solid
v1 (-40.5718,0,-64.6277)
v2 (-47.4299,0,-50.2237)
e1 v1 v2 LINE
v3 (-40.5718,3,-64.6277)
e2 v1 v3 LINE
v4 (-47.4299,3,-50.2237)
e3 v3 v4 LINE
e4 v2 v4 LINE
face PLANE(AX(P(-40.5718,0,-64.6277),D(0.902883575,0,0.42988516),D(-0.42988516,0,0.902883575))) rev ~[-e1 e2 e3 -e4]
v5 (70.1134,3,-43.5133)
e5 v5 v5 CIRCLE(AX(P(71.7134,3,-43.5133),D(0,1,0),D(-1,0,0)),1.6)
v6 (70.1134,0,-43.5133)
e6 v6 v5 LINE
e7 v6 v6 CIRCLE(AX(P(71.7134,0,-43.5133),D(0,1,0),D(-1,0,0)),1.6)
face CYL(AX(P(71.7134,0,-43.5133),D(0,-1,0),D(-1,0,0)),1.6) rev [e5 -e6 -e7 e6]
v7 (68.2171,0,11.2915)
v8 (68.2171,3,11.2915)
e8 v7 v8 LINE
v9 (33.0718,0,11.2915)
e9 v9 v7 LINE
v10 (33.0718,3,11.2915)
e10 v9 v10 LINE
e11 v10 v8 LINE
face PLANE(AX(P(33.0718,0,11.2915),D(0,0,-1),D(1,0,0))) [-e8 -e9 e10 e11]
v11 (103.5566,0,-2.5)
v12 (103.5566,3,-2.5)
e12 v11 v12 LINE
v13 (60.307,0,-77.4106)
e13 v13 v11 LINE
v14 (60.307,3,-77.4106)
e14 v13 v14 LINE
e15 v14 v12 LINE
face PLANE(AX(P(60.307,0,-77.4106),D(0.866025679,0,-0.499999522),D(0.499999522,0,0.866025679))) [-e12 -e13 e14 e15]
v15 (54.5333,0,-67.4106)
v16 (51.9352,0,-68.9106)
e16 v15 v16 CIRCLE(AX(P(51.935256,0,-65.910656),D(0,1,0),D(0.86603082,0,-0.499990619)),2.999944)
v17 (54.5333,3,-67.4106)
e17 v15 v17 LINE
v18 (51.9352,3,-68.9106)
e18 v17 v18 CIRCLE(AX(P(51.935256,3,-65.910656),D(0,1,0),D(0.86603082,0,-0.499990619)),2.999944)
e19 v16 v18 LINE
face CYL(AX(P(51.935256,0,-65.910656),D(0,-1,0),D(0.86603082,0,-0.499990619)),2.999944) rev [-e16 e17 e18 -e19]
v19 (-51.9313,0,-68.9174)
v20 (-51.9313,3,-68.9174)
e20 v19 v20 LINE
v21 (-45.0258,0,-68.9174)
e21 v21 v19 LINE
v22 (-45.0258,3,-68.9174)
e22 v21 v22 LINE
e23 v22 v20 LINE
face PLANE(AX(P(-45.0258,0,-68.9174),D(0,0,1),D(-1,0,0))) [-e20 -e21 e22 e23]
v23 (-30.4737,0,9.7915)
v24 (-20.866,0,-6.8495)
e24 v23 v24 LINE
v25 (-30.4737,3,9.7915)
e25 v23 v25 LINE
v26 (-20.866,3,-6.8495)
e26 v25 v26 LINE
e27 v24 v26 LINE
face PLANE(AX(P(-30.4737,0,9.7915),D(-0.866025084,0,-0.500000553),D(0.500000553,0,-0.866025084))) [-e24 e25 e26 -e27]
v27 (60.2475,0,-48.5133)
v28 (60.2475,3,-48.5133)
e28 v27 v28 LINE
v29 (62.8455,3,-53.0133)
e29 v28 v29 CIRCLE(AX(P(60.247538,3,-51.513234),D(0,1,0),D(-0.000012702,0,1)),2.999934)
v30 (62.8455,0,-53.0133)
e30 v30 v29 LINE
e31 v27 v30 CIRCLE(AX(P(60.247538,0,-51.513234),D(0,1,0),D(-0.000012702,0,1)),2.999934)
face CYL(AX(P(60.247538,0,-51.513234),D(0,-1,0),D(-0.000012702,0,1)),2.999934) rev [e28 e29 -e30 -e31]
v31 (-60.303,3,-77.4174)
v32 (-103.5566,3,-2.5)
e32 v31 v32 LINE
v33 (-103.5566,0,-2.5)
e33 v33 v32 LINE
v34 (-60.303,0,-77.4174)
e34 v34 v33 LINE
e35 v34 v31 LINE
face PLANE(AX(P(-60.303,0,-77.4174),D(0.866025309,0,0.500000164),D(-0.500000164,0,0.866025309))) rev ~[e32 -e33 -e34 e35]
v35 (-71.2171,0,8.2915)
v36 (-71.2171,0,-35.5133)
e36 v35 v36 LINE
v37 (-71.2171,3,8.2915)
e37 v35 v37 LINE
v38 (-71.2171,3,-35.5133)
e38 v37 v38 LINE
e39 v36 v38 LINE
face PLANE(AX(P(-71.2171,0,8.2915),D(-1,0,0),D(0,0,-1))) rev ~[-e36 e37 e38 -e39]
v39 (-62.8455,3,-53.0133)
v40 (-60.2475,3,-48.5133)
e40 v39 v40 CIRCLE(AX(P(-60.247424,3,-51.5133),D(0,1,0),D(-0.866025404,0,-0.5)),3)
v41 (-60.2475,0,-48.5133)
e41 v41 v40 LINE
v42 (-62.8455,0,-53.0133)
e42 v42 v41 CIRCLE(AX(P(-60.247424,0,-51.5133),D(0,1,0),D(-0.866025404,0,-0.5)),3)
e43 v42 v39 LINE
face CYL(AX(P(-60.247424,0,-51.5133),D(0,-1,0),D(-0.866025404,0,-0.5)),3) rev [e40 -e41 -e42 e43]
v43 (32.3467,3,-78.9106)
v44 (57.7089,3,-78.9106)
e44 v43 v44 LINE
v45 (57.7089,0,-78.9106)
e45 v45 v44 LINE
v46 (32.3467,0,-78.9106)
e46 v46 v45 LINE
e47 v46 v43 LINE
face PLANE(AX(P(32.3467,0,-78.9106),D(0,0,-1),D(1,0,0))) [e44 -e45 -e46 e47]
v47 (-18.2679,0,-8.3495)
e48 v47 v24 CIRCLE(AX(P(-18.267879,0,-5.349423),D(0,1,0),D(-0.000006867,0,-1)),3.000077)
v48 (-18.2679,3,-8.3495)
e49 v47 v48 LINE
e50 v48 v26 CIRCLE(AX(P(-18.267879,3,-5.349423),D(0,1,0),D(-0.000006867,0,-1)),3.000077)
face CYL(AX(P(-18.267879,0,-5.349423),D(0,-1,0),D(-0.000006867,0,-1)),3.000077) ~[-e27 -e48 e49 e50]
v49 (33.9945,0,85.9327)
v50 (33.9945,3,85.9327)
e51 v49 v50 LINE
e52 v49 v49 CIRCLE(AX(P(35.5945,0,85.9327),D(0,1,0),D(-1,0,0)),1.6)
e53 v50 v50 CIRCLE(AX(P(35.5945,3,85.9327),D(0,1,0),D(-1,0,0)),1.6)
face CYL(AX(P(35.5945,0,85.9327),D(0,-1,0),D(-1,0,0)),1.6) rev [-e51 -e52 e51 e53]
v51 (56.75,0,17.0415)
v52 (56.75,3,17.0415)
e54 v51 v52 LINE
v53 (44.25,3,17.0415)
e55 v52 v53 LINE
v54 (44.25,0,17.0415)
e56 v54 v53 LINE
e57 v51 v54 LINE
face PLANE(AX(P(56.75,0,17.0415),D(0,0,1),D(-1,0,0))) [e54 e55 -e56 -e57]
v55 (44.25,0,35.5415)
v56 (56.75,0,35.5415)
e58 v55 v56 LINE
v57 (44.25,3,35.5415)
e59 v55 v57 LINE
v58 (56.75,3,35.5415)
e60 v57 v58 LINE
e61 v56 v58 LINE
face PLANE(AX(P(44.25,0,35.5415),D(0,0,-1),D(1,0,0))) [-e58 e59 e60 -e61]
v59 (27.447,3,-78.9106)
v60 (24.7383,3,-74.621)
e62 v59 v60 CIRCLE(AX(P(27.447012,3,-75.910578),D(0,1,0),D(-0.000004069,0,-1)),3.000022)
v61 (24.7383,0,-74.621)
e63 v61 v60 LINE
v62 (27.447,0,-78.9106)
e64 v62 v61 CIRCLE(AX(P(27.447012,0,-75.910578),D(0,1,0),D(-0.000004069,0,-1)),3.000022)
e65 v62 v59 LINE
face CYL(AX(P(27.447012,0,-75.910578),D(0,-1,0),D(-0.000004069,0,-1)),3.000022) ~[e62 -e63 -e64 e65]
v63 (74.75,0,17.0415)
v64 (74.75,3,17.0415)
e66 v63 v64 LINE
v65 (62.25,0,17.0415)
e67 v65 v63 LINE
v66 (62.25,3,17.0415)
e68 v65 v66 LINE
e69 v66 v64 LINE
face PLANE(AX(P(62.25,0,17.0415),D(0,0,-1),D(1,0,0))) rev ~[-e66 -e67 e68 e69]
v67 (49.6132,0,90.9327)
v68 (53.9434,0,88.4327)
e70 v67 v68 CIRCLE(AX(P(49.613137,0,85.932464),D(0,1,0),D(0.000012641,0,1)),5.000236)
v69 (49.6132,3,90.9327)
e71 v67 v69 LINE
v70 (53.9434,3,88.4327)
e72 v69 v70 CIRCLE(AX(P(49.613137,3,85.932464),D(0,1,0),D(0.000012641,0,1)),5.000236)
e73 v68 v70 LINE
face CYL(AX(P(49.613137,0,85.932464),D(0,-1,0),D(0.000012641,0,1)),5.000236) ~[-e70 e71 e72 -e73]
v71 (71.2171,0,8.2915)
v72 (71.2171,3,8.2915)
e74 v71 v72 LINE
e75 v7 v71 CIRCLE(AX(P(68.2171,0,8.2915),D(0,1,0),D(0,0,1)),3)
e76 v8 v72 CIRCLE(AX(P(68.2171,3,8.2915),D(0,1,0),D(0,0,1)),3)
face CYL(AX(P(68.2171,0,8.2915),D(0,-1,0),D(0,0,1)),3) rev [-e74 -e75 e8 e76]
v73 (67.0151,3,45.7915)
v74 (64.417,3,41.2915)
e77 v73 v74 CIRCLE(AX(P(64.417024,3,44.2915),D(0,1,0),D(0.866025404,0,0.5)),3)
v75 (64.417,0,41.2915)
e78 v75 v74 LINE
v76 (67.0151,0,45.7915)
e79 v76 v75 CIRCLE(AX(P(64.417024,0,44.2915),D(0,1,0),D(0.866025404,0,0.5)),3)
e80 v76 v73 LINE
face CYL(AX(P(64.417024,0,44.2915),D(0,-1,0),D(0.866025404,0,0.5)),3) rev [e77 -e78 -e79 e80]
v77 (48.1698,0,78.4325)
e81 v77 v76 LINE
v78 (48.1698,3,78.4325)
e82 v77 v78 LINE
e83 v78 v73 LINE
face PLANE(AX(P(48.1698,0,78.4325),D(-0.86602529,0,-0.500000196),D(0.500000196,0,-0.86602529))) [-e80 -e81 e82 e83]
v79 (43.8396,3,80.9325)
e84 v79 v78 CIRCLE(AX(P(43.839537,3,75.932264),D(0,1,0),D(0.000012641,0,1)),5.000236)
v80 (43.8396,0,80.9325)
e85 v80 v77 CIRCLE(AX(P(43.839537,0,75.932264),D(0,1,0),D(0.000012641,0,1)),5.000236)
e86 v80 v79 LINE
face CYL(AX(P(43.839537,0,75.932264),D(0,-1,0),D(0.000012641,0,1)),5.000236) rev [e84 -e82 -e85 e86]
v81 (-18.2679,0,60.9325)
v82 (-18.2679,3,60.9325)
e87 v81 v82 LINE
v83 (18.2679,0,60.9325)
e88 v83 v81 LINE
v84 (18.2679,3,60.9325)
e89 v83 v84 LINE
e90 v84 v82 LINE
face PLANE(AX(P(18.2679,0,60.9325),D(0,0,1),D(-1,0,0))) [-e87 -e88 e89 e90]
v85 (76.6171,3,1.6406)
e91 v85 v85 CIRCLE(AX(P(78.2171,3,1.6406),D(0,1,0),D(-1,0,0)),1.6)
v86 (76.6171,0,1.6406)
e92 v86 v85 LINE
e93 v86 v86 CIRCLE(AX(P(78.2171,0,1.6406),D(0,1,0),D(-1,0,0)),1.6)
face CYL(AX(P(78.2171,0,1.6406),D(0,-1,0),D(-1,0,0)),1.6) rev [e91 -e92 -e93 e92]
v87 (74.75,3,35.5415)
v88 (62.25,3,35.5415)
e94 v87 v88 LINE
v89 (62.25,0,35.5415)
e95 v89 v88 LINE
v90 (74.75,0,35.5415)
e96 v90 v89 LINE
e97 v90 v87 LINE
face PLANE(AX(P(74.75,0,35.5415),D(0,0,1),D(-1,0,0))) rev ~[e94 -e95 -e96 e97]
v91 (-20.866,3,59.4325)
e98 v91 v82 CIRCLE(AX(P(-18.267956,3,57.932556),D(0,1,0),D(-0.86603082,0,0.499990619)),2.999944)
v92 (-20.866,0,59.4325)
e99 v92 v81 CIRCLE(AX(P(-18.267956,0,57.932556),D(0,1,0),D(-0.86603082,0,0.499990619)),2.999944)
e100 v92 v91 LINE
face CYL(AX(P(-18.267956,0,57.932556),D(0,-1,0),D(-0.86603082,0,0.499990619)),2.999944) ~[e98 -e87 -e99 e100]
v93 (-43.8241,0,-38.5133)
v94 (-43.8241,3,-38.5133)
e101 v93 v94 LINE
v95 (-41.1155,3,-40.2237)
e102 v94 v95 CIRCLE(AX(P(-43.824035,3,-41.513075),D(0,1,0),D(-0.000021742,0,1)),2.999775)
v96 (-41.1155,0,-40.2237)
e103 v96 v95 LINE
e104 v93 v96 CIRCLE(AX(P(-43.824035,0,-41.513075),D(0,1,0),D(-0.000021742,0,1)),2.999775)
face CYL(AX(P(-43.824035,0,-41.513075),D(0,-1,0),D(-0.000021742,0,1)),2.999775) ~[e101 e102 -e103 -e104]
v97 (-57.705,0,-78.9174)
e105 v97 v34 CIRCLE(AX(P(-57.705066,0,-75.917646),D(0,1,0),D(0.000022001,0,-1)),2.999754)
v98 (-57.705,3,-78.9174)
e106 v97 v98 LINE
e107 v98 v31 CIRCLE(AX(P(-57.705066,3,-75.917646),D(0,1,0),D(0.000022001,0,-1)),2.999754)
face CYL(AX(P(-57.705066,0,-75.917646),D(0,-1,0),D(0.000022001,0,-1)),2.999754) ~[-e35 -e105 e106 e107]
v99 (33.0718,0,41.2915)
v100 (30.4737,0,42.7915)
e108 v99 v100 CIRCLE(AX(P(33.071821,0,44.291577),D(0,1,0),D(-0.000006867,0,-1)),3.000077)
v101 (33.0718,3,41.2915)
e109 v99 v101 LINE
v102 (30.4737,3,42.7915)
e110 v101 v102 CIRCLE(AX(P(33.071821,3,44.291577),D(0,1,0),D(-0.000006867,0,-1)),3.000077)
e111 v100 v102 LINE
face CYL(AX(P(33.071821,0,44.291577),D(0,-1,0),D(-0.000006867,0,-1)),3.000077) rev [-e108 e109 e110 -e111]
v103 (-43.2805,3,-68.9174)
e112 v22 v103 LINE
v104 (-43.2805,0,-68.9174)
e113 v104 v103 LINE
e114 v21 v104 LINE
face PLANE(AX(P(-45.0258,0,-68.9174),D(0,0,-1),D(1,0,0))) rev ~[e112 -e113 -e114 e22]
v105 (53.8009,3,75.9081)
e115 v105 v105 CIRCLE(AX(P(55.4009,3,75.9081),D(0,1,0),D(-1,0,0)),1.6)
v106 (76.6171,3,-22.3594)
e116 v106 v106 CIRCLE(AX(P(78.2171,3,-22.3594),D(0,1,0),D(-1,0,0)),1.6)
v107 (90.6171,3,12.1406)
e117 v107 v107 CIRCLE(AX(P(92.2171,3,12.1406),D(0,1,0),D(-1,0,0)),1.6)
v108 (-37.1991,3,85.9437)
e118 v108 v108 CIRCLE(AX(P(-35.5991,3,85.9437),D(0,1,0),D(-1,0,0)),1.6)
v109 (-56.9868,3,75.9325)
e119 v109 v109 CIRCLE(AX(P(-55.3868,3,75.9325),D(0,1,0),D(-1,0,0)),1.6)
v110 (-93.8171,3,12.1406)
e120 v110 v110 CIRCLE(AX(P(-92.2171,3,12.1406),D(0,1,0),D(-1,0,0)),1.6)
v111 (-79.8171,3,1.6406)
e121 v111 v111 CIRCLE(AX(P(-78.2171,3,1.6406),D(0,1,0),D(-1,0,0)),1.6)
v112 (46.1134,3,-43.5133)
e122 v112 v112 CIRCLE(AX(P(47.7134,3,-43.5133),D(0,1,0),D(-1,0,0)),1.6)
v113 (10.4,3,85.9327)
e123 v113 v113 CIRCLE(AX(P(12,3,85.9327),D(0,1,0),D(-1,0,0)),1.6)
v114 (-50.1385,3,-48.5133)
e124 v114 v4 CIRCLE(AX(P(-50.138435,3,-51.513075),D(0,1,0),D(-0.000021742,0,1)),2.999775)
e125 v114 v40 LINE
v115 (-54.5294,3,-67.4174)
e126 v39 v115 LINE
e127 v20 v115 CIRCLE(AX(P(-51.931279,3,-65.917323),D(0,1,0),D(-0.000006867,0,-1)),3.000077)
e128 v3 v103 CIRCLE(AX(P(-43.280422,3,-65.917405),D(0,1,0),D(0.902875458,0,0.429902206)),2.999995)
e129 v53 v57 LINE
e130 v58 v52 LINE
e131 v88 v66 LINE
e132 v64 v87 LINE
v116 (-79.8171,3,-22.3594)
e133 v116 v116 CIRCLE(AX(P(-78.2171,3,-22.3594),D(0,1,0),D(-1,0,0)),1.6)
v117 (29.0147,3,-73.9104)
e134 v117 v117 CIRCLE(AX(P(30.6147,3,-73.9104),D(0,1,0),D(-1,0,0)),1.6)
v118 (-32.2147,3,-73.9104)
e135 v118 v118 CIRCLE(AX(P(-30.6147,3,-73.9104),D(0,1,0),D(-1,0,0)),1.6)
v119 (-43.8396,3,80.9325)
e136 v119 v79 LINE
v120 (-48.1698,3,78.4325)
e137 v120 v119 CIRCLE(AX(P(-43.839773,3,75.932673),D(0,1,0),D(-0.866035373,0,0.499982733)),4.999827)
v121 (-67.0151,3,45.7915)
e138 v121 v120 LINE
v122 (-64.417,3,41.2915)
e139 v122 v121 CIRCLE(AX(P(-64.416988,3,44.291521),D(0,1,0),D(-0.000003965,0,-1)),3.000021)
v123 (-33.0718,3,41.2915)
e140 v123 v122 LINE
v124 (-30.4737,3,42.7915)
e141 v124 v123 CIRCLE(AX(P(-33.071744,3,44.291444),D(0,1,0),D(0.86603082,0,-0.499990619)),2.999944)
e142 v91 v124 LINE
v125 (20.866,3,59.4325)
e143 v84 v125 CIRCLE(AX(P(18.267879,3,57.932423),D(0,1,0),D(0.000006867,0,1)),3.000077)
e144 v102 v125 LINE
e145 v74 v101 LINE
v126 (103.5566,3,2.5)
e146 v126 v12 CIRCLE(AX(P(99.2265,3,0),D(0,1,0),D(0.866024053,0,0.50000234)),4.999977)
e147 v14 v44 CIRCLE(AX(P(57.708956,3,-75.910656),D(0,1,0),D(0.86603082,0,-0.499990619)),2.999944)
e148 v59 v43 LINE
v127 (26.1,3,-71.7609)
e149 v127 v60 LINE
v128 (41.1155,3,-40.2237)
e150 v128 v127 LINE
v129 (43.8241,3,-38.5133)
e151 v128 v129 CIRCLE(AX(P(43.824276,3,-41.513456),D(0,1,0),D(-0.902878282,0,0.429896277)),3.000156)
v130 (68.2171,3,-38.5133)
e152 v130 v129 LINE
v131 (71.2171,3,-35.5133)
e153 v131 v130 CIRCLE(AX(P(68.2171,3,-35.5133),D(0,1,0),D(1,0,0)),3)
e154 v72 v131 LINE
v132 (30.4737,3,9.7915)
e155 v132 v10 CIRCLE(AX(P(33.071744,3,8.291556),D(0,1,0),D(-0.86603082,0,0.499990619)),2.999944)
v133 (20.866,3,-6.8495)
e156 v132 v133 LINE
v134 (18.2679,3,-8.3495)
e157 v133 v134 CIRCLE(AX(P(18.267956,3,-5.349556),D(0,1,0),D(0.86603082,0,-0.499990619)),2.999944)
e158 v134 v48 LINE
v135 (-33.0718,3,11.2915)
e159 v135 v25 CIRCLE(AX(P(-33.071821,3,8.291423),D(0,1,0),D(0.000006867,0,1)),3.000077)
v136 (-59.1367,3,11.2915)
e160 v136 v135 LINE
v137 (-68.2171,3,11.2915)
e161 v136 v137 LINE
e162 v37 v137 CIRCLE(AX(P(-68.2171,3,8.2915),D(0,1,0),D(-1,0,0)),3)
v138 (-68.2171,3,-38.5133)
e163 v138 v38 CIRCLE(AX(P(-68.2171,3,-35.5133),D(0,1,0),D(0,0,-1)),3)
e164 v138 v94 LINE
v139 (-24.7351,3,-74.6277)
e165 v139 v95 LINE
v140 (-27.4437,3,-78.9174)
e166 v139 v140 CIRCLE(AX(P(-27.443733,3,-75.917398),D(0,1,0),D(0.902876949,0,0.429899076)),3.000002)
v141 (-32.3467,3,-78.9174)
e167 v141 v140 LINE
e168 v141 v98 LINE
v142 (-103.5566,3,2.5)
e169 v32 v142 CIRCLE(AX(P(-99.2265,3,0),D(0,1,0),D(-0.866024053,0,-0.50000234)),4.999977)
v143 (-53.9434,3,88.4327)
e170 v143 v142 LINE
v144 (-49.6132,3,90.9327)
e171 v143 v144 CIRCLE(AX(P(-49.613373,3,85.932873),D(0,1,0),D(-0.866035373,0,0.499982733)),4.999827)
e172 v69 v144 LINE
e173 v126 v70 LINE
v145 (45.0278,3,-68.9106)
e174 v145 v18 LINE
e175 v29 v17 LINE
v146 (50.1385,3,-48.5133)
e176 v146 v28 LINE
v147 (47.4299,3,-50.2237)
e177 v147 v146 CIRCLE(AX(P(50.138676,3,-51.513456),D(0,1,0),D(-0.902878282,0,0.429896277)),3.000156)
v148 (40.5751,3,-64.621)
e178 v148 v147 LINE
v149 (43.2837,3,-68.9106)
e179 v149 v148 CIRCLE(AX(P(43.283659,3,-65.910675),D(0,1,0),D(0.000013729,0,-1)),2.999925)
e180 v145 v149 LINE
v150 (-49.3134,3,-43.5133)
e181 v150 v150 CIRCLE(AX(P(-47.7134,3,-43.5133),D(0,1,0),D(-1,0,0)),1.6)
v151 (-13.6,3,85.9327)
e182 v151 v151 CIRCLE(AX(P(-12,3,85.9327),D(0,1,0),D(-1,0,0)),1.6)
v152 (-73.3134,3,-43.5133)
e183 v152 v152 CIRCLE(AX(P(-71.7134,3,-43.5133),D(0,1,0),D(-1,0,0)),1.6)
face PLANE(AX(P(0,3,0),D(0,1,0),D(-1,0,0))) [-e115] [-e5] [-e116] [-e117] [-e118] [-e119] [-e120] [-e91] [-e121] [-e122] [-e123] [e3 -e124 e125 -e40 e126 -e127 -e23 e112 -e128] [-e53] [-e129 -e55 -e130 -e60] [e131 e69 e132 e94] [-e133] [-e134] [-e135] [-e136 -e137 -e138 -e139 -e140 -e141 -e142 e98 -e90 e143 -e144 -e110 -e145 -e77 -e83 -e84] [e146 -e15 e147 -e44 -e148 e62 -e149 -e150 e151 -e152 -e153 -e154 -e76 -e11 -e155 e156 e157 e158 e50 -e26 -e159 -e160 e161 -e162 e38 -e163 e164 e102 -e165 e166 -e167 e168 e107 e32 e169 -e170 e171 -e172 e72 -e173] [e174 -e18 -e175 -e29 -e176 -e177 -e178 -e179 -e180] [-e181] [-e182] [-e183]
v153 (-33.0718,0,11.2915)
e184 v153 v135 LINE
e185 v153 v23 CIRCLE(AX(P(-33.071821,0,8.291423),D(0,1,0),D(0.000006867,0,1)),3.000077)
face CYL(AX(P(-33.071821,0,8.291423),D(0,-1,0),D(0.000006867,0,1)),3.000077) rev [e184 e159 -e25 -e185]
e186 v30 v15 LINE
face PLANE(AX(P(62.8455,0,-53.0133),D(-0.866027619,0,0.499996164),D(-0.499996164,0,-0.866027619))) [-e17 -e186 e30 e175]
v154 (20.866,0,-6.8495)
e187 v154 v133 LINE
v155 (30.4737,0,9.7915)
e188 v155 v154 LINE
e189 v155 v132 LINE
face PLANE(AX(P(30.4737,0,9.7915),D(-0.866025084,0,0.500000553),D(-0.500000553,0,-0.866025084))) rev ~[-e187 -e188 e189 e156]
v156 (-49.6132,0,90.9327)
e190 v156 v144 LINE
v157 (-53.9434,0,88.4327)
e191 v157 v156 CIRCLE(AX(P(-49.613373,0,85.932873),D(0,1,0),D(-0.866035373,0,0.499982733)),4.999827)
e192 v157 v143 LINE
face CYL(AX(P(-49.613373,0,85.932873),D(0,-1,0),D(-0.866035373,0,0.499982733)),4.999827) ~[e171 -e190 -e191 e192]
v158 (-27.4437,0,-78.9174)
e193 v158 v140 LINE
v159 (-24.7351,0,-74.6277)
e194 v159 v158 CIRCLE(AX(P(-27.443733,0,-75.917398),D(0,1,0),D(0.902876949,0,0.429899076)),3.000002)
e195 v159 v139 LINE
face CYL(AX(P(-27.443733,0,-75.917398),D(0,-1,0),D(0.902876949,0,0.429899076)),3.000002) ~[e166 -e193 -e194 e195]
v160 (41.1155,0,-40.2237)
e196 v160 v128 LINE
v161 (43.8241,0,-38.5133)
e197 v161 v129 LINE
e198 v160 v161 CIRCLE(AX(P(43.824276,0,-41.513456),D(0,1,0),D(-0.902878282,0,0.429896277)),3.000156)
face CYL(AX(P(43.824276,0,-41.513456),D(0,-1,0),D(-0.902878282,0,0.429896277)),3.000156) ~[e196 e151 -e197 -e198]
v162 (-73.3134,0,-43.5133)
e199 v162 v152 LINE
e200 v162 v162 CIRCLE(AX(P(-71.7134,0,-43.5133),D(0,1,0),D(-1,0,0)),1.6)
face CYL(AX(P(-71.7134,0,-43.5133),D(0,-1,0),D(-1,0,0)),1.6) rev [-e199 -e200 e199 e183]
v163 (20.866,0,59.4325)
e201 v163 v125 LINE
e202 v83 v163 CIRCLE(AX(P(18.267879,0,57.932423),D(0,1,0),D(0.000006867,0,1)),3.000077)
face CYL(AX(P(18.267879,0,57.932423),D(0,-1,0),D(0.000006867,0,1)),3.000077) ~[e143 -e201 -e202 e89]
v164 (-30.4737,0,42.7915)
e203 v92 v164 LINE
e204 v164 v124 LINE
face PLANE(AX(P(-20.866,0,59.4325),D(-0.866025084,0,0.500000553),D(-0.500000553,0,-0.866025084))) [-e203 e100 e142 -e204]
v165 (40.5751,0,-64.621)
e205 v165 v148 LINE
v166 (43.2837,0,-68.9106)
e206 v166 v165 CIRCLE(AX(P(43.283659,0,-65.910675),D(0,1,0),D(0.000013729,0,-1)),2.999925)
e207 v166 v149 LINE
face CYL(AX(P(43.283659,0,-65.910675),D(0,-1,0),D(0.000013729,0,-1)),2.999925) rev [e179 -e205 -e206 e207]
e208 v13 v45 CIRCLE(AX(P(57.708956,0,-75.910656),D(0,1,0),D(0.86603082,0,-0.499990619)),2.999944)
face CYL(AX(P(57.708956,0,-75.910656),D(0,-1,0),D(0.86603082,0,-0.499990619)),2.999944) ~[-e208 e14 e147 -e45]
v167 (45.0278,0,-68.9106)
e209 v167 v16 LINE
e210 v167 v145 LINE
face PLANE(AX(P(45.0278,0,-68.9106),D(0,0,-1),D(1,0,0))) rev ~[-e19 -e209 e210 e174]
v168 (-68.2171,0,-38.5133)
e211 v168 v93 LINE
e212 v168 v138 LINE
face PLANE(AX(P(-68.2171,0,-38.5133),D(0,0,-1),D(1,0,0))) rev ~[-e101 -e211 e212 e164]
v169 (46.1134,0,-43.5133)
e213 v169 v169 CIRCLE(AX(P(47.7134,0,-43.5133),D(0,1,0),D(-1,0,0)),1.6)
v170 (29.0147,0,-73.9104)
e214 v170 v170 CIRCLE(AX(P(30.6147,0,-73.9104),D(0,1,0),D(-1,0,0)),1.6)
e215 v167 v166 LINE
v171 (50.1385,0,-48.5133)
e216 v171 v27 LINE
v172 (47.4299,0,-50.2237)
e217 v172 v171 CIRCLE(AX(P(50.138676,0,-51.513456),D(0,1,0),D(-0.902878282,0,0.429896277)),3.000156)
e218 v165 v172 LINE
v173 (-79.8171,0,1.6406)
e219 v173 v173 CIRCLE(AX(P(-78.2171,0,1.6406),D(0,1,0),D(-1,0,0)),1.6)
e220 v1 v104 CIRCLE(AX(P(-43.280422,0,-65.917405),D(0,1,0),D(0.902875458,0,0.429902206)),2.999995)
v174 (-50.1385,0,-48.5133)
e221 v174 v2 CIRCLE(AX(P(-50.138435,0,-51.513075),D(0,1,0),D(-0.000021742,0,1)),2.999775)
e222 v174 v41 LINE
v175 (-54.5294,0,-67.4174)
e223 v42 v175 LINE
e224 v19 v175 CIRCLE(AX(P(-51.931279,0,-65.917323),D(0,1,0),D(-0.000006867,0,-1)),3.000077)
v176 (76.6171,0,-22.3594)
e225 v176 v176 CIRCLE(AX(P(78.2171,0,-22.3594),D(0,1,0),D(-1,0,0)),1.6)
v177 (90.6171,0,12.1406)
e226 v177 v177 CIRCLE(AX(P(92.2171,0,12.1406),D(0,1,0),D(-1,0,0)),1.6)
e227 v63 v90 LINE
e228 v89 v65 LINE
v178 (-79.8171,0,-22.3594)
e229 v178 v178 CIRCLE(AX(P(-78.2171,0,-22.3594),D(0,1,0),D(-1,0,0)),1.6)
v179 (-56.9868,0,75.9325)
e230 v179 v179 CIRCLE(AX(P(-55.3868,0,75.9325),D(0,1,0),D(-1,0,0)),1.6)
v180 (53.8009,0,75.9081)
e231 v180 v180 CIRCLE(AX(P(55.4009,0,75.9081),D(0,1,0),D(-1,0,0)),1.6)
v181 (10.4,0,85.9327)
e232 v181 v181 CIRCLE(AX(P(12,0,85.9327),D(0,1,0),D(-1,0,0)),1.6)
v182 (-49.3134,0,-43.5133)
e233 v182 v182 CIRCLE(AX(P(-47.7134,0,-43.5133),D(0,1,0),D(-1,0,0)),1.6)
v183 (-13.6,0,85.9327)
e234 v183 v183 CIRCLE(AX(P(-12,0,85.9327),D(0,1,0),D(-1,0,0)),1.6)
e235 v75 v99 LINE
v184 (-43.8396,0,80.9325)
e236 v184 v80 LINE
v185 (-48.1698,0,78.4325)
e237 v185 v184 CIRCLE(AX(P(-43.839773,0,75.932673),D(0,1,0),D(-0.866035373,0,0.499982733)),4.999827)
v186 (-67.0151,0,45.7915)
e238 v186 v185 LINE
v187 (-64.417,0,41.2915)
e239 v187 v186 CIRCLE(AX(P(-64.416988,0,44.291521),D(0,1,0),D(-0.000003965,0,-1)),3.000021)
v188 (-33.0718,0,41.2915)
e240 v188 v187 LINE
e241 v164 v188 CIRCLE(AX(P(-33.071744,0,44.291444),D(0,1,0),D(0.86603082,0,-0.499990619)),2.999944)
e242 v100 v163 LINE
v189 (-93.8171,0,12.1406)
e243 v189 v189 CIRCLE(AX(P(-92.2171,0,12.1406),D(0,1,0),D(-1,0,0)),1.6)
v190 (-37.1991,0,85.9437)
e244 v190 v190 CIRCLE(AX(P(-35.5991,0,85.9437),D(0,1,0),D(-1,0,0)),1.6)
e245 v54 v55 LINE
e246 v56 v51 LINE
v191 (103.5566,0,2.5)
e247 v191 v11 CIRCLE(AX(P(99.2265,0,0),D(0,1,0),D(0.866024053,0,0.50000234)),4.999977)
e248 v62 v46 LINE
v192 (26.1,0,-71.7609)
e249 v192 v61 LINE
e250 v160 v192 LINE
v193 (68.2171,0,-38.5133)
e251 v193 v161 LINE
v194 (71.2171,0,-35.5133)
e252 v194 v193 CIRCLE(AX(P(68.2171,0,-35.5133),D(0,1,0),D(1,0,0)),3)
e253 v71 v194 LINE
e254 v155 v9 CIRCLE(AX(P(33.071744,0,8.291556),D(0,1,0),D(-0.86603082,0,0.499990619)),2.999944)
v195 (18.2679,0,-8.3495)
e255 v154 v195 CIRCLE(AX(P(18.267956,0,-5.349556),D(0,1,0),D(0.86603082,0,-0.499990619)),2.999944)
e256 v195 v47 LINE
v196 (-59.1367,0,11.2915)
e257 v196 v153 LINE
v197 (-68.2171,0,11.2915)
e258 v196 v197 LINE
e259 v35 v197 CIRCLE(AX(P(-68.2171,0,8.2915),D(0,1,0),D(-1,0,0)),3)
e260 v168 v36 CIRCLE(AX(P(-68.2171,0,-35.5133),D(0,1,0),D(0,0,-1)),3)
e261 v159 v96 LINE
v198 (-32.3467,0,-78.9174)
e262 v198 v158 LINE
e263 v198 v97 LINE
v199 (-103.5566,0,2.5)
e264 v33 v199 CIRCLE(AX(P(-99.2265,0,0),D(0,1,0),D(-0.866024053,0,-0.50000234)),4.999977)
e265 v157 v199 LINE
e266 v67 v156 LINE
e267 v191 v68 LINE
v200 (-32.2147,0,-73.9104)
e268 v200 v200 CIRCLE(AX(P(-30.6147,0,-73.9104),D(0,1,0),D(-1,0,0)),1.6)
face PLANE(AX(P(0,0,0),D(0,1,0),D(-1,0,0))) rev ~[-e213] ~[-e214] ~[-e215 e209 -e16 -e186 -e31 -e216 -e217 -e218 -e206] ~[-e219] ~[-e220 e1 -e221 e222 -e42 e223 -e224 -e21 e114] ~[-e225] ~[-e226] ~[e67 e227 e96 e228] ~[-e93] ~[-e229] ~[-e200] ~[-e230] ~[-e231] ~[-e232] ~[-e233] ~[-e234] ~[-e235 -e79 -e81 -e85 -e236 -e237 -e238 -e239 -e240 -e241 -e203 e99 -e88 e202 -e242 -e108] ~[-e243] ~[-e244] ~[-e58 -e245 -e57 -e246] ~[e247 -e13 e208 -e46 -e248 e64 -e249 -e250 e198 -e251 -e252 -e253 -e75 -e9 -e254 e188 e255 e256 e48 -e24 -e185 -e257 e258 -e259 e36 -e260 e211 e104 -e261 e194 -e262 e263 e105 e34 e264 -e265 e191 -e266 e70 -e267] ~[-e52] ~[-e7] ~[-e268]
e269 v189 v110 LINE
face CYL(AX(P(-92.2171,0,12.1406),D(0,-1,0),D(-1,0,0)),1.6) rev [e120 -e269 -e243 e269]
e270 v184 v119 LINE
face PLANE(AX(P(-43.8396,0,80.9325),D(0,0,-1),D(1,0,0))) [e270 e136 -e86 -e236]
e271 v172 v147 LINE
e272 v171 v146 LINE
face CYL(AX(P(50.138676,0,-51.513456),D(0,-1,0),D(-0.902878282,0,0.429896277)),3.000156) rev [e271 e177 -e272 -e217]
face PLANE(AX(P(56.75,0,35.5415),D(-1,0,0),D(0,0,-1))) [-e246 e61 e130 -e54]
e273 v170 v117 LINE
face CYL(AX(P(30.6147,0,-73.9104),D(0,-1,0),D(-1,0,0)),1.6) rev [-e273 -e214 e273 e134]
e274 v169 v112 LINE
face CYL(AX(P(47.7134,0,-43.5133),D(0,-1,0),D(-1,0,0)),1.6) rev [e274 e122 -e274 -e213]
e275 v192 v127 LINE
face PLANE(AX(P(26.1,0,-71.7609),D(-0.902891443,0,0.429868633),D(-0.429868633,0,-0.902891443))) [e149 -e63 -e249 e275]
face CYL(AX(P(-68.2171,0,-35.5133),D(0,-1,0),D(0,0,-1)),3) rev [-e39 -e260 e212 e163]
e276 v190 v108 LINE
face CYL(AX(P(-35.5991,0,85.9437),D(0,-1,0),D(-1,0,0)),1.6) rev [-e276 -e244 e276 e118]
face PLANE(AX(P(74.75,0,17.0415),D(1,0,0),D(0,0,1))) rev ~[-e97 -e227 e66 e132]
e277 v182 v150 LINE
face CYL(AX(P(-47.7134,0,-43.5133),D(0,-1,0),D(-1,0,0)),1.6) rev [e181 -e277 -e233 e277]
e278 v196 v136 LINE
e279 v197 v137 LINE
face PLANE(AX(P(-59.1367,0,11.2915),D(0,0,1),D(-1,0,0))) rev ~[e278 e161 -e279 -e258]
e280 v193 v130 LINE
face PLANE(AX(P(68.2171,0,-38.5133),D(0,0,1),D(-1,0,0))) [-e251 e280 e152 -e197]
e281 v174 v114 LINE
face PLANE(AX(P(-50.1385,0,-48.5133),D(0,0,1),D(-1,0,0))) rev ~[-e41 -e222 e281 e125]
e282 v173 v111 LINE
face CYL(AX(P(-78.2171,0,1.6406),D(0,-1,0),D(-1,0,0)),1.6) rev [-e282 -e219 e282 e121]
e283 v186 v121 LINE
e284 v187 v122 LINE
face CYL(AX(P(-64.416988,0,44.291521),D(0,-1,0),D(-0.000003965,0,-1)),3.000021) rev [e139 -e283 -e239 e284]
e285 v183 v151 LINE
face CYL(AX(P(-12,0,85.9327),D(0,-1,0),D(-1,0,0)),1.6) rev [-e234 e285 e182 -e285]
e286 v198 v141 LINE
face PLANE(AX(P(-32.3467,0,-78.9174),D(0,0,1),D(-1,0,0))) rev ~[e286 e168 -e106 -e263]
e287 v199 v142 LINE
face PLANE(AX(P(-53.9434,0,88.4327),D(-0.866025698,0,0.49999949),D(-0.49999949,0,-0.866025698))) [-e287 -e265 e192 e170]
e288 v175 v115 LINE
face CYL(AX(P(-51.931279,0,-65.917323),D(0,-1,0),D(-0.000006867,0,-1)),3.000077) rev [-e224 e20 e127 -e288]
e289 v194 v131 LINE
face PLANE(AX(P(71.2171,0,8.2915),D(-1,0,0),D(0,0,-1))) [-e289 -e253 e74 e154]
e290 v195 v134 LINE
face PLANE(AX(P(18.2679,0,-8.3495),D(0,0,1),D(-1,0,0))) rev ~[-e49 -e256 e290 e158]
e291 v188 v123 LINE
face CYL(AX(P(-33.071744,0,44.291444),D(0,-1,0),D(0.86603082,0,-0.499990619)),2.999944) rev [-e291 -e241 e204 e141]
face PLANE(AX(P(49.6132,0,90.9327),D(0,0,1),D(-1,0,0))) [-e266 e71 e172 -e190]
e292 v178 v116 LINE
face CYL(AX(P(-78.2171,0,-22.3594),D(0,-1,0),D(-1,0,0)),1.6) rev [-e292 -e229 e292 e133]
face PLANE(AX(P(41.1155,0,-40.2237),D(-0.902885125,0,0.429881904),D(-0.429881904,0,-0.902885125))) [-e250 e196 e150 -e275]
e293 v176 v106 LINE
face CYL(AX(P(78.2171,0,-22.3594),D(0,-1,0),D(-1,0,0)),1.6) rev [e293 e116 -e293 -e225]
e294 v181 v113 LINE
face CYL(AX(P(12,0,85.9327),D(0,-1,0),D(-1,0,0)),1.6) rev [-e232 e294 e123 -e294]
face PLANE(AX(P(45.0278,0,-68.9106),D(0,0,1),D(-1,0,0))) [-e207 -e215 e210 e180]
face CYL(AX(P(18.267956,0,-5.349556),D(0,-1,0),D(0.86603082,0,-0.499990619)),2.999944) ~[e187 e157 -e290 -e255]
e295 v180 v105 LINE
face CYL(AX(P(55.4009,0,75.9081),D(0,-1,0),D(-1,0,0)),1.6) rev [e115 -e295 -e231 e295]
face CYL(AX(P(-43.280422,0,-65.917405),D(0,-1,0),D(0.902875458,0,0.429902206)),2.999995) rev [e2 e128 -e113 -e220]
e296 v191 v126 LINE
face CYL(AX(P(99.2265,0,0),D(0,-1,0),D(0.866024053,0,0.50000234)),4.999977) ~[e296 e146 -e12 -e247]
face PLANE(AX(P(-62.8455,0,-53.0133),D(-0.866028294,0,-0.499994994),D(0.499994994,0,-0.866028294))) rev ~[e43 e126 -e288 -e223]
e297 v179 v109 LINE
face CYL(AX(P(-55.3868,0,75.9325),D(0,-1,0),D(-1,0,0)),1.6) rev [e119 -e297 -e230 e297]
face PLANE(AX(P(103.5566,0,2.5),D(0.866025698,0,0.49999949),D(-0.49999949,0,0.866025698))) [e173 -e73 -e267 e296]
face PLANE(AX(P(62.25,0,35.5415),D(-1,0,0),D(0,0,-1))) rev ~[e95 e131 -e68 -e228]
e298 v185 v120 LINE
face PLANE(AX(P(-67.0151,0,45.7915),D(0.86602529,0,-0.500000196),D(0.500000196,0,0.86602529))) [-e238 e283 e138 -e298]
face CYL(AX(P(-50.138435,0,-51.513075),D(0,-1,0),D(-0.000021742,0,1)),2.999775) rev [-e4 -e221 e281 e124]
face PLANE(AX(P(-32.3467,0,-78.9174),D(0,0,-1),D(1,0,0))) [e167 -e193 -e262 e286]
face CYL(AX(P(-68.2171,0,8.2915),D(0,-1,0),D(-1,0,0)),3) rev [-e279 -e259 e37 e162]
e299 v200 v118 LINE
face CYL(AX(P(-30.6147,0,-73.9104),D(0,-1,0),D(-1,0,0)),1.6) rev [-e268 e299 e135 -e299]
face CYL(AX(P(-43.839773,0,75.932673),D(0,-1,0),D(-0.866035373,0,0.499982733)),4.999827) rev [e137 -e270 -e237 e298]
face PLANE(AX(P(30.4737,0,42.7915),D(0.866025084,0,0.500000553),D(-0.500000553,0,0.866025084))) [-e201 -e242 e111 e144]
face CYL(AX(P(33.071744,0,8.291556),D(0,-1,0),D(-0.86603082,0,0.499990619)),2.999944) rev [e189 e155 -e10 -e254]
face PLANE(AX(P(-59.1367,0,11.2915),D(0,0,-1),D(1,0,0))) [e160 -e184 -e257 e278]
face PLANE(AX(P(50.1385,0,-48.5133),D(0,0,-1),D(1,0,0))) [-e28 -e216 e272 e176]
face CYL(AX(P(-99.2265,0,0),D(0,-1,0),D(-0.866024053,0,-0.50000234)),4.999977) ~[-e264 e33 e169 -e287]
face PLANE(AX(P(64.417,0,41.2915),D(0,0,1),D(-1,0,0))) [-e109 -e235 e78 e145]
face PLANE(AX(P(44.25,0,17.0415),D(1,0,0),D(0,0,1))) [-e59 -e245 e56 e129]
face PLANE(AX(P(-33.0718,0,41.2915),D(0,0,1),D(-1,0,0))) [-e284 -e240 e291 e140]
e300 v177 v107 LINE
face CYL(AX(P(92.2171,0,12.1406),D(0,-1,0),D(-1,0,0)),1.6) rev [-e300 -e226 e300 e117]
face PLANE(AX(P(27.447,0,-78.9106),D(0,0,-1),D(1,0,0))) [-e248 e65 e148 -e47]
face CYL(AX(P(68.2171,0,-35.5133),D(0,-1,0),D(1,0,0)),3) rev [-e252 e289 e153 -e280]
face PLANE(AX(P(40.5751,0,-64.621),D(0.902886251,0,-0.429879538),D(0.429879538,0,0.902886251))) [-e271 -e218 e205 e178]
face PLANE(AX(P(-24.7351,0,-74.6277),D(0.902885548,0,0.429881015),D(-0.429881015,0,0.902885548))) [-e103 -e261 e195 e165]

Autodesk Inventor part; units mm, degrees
ref_plane "YZ Plane" through (0, 0, 0) normal (1, 0, 0) x (0, 1, 0)
ref_plane "XZ Plane" through (0, 0, 0) normal (0, 1, 0) x (-1, 0, 0)
ref_plane "XY Plane" through (0, 0, 0) normal (0, 0, 1) x (1, 0, 0)
sketch "Sketch1" plane through (0, 0, 0) normal (0, 1, 0) x (-1, 0, 0)
  circle A0 centre (-30.6147, -73.9104) radius 1.6
  circle A1 centre (-30.6147, -73.9104) radius 1.6
  line L0 (-103.5566, 2.5) -> (-53.9434, 88.4327)
  line L1 (-49.6132, 90.9327) -> (49.6132, 90.9327)
  line L2 (53.9434, 88.4327) -> (103.5566, 2.5)
  arc A2 (-103.5566, 2.5) -> (-103.5566, -2.5) centre (-99.2265, 0) ccw
  arc A3 (-49.6132, 90.9327) -> (-53.9434, 88.4327) centre (-49.6132, 85.9327) ccw
  arc A4 (53.9434, 88.4327) -> (49.6132, 90.9327) centre (49.6132, 85.9327) ccw
  arc A5 (103.5566, -2.5) -> (103.5566, 2.5) centre (99.2265, 0) ccw
  arc A6 (-43.8396, 80.9325) -> (-48.1698, 78.4325) centre (-43.8396, 75.9325) ccw
  circle A7 centre (-30.6147, -73.9104) radius 1.6
  circle A8 centre (-30.6147, -73.9104) radius 1.6
  arc A9 (48.1698, 78.4325) -> (43.8396, 80.9325) centre (43.8396, 75.9325) ccw
  circle A10 centre (35.5991, 85.9437) radius 1.6
  circle A11 centre (-35.5945, 85.9327) radius 1.6
  circle A12 centre (92.2171, 12.1406) radius 1.6
  circle A13 centre (-92.2171, 12.1406) radius 1.6
  line L3 (-18.2679, -8.3495) -> (18.2679, -8.3495)
  line L4 (-62.8455, -53.0133) -> (-54.5333, -67.4106)
  line L5 (59.1367, 11.2915) -> (33.0718, 11.2915)
  line L6 (59.1367, 11.2915) -> (68.2171, 11.2915)
  line L7 (-62.25, 35.5415) -> (-62.25, 17.0415)
  line L8 (-62.25, 17.0415) -> (-74.75, 17.0415)
  line L9 (-74.75, 17.0415) -> (-74.75, 35.5415)
  line L10 (-74.75, 35.5415) -> (-62.25, 35.5415)
  line L11 (30.4737, 9.7915) -> (20.866, -6.8495)
  line L12 (-30.4737, 9.7915) -> (-20.866, -6.8495)
  arc A14 (33.0718, 11.2915) -> (30.4737, 9.7915) centre (33.0718, 8.2915) ccw
  arc A15 (64.417, 41.2915) -> (67.0151, 45.7915) centre (64.417, 44.2915) ccw
  arc A16 (30.4737, 42.7915) -> (33.0718, 41.2915) centre (33.0718, 44.2915) ccw
  arc A17 (18.2679, -8.3495) -> (20.866, -6.8495) centre (18.2679, -5.3495) ccw
  arc A18 (-20.866, -6.8495) -> (-18.2679, -8.3495) centre (-18.2679, -5.3495) ccw
  arc A19 (-30.4737, 9.7915) -> (-33.0718, 11.2915) centre (-33.0718, 8.2915) ccw
  arc A20 (-33.0718, 41.2915) -> (-30.4737, 42.7915) centre (-33.0718, 44.2915) ccw
  arc A21 (-18.2679, 60.9325) -> (-20.866, 59.4325) centre (-18.2679, 57.9325) ccw
  arc A22 (20.866, 59.4325) -> (18.2679, 60.9325) centre (18.2679, 57.9325) ccw
  arc A23 (-67.0151, 45.7915) -> (-64.417, 41.2915) centre (-64.417, 44.2915) ccw
  line L13 (43.8396, 80.9325) -> (-43.8396, 80.9325)
  line L14 (-48.1698, 78.4325) -> (-67.0151, 45.7915)
  line L15 (-64.417, 41.2915) -> (-33.0718, 41.2915)
  line L16 (-30.4737, 42.7915) -> (-20.866, 59.4325)
  line L17 (-18.2679, 60.9325) -> (18.2679, 60.9325)
  line L18 (20.866, 59.4325) -> (30.4737, 42.7915)
  line L19 (33.0718, 41.2915) -> (64.417, 41.2915)
  line L20 (67.0151, 45.7915) -> (48.1698, 78.4325)
  line L21 (-56.75, 35.5415) -> (-56.75, 17.0415)
  line L22 (-56.75, 17.0415) -> (-44.25, 17.0415)
  line L23 (-44.25, 17.0415) -> (-44.25, 35.5415)
  line L24 (-44.25, 35.5415) -> (-56.75, 35.5415)
  circle A24 centre (-55.4009, 75.9081) radius 1.6
  circle A25 centre (55.3868, 75.9325) radius 1.6
  circle A26 centre (-12, 85.9327) radius 1.6
  circle A27 centre (12, 85.9327) radius 1.6
  circle A28 centre (-78.2171, -22.3594) radius 1.6
  circle A29 centre (-78.2171, 1.6406) radius 1.6
  circle A30 centre (78.2171, -22.3594) radius 1.6
  circle A31 centre (78.2171, 1.6406) radius 1.6
  circle A32 centre (-71.7134, -43.5133) radius 1.6
  circle A33 centre (-47.7134, -43.5133) radius 1.6
  arc A34 (71.2171, 8.2915) -> (68.2171, 11.2915) centre (68.2171, 8.2915) ccw
  line L25 (-33.0718, 11.2915) -> (-68.2171, 11.2915)
  line L26 (-68.2171, -38.5133) -> (-43.8241, -38.5133)
  line L27 (-71.2171, 8.2915) -> (-71.2171, -35.5133)
  arc A35 (-68.2171, 11.2915) -> (-71.2171, 8.2915) centre (-68.2171, 8.2915) ccw
  line L28 (-40.5751, -64.621) -> (-47.4299, -50.2237)
  line L29 (-50.1385, -48.5133) -> (-60.2475, -48.5133)
  arc A36 (-41.1155, -40.2237) -> (-43.8241, -38.5133) centre (-43.8241, -41.5133) ccw
  arc A37 (-47.4299, -50.2237) -> (-50.1385, -48.5133) centre (-50.1385, -51.5133) ccw
  arc A38 (-60.2475, -48.5133) -> (-62.8455, -53.0133) centre (-60.2475, -51.5133) ccw
  arc A39 (-71.2171, -35.5133) -> (-68.2171, -38.5133) centre (-68.2171, -35.5133) ccw
  circle A40 centre (30.6147, -73.9104) radius 1.6
  circle A41 centre (30.6147, -73.9104) radius 1.6
  line L30 (60.303, -77.4174) -> (103.5566, -2.5)
  circle A42 centre (30.6147, -73.9104) radius 1.6
  circle A43 centre (30.6147, -73.9104) radius 1.6
  line L31 (62.8455, -53.0133) -> (54.5294, -67.4174)
  circle A44 centre (47.7134, -43.5133) radius 1.6
  circle A45 centre (71.7134, -43.5133) radius 1.6
  line L32 (68.2171, -38.5133) -> (43.8241, -38.5133)
  line L33 (71.2171, -38.5133) -> (41.9298, -38.5133) construction
  line L34 (71.2171, 8.2915) -> (71.2171, -35.5133)
  line L35 (40.5718, -64.6277) -> (47.4299, -50.2237)
  line L36 (50.1385, -48.5133) -> (60.2475, -48.5133)
  arc A46 (43.8241, -38.5133) -> (41.1155, -40.2237) centre (43.8241, -41.5133) ccw
  arc A47 (50.1385, -48.5133) -> (47.4299, -50.2237) centre (50.1385, -51.5133) ccw
  arc A48 (62.8455, -53.0133) -> (60.2475, -48.5133) centre (60.2475, -51.5133) ccw
  arc A49 (68.2171, -38.5133) -> (71.2171, -35.5133) centre (68.2171, -35.5133) ccw
  line L37 (24.7351, -74.6277) -> (41.1155, -40.2237)
  line L38 (32.3467, -78.9174) -> (57.705, -78.9174)
  line L39 (32.3467, -78.9174) -> (27.4437, -78.9174)
  line L40 (45.0258, -68.9174) -> (43.2805, -68.9174)
  line L41 (45.0258, -68.9174) -> (51.9313, -68.9174)
  arc A50 (24.7351, -74.6277) -> (27.4437, -78.9174) centre (27.4437, -75.9174) ccw
  arc A51 (57.705, -78.9174) -> (60.303, -77.4174) centre (57.705, -75.9174) ccw
  arc A52 (51.9313, -68.9174) -> (54.5294, -67.4174) centre (51.9313, -65.9174) ccw
  arc A53 (40.5718, -64.6277) -> (43.2805, -68.9174) centre (43.2805, -65.9174) ccw
  line L42 (-32.3467, -78.9106) -> (-57.7089, -78.9106)
  line L43 (-45.0278, -68.9106) -> (-51.9352, -68.9106)
  line L44 (-45.0278, -68.9106) -> (-43.2837, -68.9106)
  arc A54 (-43.2837, -68.9106) -> (-40.5751, -64.621) centre (-43.2837, -65.9106) ccw
  arc A55 (-54.5333, -67.4106) -> (-51.9352, -68.9106) centre (-51.9352, -65.9106) ccw
  line L45 (-60.307, -77.4106) -> (-103.5566, -2.5)
  line L46 (-41.1155, -40.2237) -> (-26.1, -71.7609)
  line L47 (-26.1, -71.7609) -> (-24.7383, -74.621)
  line L48 (-27.447, -78.9106) -> (-32.3467, -78.9106)
  arc A56 (-27.447, -78.9106) -> (-24.7383, -74.621) centre (-27.447, -75.9106) ccw
  arc A57 (-60.307, -77.4106) -> (-57.7089, -78.9106) centre (-57.7089, -75.9106) ccw
  point P0 (105, 0)
  point P1 (-105, 0)
  point P2 (-52.5, 90.9327)
  point P3 (52.5, 90.9327)
  point P4 (-46.7264, 80.9325)
  point P5 (46.7264, 80.9325)
  point P6 (-50.7681, -73.9321)
  point P7 (-5, -80.9325)
  point P8 (5, -80.9325)
  point P9 (69.6132, 41.2915)
  point P10 (-69.6132, 41.2915)
  point P11 (0, -8.3495)
  point P12 (0, 90.9327)
  point P13 (-59.7134, -39.5133)
  point P14 (-59.7134, -47.5133)
  point P15 (-70.9879, -38.9104)
  point P16 (-62.905, -52.9104)
  point P17 (-38.1553, -69.7034)
  point P18 (54.8095, -86.9325)
  point P19 (50.7681, -73.9321)
  point P20 (59.7134, -47.5133)
  point P21 (59.7134, -39.5133)
  point P22 (70.9879, -38.9104)
  point P23 (62.905, -52.9104)
  point P24 (38.1553, -69.7034)
  point P25 (24.8278, -74.4329)
  point P26 (22.3467, -78.9174)
  point P27 (53.6633, -68.9174)
  point P28 (-38.5327, -68.9106)
  dimension "d252" = 3.2
  dimension "d254" = 3.2
  dimension "d258" = 3.2
  dimension "d259" = 3.2
  dimension "d263" = 3.2
  dimension "d264" = 3.2
  dimension "d268" = 3.2
  dimension "d269" = 3.2
  dimension "d327" = 3.2
  dimension "d328" = 3.2
  dimension "d336" = 3
  dimension "d339" = 3
extrude "Extrusion2" add sketch "Sketch1" along normal blind 3
sketch "Sketch2" plane through (0, 3, 0) normal (0, 1, 0) x (1, 0, 0)
  line L0 (-23.051, -6.2915) -> (23.0507, -6.2915) construction
  line L1 (23.0507, -6.2915) -> (23.0507, -46.2915) construction
  line L2 (23.0507, -46.2915) -> (-23.051, -46.2915) construction
  line L3 (-23.051, -46.2915) -> (-23.051, -6.2915) construction
  line L4 (18.2679, 8.3495) -> (-18.2679, 8.3495) projected
  line L5 (-18.2679, -60.9325) -> (18.2679, -60.9325) projected
  line L6 (0, 8.3495) -> (0, -6.2915)
  point P0 (0, 0)
  dimension "d323" = 23.051
decal "Decal1"
properties part number "Top Plat" material "Polycarbonate, Clear"
